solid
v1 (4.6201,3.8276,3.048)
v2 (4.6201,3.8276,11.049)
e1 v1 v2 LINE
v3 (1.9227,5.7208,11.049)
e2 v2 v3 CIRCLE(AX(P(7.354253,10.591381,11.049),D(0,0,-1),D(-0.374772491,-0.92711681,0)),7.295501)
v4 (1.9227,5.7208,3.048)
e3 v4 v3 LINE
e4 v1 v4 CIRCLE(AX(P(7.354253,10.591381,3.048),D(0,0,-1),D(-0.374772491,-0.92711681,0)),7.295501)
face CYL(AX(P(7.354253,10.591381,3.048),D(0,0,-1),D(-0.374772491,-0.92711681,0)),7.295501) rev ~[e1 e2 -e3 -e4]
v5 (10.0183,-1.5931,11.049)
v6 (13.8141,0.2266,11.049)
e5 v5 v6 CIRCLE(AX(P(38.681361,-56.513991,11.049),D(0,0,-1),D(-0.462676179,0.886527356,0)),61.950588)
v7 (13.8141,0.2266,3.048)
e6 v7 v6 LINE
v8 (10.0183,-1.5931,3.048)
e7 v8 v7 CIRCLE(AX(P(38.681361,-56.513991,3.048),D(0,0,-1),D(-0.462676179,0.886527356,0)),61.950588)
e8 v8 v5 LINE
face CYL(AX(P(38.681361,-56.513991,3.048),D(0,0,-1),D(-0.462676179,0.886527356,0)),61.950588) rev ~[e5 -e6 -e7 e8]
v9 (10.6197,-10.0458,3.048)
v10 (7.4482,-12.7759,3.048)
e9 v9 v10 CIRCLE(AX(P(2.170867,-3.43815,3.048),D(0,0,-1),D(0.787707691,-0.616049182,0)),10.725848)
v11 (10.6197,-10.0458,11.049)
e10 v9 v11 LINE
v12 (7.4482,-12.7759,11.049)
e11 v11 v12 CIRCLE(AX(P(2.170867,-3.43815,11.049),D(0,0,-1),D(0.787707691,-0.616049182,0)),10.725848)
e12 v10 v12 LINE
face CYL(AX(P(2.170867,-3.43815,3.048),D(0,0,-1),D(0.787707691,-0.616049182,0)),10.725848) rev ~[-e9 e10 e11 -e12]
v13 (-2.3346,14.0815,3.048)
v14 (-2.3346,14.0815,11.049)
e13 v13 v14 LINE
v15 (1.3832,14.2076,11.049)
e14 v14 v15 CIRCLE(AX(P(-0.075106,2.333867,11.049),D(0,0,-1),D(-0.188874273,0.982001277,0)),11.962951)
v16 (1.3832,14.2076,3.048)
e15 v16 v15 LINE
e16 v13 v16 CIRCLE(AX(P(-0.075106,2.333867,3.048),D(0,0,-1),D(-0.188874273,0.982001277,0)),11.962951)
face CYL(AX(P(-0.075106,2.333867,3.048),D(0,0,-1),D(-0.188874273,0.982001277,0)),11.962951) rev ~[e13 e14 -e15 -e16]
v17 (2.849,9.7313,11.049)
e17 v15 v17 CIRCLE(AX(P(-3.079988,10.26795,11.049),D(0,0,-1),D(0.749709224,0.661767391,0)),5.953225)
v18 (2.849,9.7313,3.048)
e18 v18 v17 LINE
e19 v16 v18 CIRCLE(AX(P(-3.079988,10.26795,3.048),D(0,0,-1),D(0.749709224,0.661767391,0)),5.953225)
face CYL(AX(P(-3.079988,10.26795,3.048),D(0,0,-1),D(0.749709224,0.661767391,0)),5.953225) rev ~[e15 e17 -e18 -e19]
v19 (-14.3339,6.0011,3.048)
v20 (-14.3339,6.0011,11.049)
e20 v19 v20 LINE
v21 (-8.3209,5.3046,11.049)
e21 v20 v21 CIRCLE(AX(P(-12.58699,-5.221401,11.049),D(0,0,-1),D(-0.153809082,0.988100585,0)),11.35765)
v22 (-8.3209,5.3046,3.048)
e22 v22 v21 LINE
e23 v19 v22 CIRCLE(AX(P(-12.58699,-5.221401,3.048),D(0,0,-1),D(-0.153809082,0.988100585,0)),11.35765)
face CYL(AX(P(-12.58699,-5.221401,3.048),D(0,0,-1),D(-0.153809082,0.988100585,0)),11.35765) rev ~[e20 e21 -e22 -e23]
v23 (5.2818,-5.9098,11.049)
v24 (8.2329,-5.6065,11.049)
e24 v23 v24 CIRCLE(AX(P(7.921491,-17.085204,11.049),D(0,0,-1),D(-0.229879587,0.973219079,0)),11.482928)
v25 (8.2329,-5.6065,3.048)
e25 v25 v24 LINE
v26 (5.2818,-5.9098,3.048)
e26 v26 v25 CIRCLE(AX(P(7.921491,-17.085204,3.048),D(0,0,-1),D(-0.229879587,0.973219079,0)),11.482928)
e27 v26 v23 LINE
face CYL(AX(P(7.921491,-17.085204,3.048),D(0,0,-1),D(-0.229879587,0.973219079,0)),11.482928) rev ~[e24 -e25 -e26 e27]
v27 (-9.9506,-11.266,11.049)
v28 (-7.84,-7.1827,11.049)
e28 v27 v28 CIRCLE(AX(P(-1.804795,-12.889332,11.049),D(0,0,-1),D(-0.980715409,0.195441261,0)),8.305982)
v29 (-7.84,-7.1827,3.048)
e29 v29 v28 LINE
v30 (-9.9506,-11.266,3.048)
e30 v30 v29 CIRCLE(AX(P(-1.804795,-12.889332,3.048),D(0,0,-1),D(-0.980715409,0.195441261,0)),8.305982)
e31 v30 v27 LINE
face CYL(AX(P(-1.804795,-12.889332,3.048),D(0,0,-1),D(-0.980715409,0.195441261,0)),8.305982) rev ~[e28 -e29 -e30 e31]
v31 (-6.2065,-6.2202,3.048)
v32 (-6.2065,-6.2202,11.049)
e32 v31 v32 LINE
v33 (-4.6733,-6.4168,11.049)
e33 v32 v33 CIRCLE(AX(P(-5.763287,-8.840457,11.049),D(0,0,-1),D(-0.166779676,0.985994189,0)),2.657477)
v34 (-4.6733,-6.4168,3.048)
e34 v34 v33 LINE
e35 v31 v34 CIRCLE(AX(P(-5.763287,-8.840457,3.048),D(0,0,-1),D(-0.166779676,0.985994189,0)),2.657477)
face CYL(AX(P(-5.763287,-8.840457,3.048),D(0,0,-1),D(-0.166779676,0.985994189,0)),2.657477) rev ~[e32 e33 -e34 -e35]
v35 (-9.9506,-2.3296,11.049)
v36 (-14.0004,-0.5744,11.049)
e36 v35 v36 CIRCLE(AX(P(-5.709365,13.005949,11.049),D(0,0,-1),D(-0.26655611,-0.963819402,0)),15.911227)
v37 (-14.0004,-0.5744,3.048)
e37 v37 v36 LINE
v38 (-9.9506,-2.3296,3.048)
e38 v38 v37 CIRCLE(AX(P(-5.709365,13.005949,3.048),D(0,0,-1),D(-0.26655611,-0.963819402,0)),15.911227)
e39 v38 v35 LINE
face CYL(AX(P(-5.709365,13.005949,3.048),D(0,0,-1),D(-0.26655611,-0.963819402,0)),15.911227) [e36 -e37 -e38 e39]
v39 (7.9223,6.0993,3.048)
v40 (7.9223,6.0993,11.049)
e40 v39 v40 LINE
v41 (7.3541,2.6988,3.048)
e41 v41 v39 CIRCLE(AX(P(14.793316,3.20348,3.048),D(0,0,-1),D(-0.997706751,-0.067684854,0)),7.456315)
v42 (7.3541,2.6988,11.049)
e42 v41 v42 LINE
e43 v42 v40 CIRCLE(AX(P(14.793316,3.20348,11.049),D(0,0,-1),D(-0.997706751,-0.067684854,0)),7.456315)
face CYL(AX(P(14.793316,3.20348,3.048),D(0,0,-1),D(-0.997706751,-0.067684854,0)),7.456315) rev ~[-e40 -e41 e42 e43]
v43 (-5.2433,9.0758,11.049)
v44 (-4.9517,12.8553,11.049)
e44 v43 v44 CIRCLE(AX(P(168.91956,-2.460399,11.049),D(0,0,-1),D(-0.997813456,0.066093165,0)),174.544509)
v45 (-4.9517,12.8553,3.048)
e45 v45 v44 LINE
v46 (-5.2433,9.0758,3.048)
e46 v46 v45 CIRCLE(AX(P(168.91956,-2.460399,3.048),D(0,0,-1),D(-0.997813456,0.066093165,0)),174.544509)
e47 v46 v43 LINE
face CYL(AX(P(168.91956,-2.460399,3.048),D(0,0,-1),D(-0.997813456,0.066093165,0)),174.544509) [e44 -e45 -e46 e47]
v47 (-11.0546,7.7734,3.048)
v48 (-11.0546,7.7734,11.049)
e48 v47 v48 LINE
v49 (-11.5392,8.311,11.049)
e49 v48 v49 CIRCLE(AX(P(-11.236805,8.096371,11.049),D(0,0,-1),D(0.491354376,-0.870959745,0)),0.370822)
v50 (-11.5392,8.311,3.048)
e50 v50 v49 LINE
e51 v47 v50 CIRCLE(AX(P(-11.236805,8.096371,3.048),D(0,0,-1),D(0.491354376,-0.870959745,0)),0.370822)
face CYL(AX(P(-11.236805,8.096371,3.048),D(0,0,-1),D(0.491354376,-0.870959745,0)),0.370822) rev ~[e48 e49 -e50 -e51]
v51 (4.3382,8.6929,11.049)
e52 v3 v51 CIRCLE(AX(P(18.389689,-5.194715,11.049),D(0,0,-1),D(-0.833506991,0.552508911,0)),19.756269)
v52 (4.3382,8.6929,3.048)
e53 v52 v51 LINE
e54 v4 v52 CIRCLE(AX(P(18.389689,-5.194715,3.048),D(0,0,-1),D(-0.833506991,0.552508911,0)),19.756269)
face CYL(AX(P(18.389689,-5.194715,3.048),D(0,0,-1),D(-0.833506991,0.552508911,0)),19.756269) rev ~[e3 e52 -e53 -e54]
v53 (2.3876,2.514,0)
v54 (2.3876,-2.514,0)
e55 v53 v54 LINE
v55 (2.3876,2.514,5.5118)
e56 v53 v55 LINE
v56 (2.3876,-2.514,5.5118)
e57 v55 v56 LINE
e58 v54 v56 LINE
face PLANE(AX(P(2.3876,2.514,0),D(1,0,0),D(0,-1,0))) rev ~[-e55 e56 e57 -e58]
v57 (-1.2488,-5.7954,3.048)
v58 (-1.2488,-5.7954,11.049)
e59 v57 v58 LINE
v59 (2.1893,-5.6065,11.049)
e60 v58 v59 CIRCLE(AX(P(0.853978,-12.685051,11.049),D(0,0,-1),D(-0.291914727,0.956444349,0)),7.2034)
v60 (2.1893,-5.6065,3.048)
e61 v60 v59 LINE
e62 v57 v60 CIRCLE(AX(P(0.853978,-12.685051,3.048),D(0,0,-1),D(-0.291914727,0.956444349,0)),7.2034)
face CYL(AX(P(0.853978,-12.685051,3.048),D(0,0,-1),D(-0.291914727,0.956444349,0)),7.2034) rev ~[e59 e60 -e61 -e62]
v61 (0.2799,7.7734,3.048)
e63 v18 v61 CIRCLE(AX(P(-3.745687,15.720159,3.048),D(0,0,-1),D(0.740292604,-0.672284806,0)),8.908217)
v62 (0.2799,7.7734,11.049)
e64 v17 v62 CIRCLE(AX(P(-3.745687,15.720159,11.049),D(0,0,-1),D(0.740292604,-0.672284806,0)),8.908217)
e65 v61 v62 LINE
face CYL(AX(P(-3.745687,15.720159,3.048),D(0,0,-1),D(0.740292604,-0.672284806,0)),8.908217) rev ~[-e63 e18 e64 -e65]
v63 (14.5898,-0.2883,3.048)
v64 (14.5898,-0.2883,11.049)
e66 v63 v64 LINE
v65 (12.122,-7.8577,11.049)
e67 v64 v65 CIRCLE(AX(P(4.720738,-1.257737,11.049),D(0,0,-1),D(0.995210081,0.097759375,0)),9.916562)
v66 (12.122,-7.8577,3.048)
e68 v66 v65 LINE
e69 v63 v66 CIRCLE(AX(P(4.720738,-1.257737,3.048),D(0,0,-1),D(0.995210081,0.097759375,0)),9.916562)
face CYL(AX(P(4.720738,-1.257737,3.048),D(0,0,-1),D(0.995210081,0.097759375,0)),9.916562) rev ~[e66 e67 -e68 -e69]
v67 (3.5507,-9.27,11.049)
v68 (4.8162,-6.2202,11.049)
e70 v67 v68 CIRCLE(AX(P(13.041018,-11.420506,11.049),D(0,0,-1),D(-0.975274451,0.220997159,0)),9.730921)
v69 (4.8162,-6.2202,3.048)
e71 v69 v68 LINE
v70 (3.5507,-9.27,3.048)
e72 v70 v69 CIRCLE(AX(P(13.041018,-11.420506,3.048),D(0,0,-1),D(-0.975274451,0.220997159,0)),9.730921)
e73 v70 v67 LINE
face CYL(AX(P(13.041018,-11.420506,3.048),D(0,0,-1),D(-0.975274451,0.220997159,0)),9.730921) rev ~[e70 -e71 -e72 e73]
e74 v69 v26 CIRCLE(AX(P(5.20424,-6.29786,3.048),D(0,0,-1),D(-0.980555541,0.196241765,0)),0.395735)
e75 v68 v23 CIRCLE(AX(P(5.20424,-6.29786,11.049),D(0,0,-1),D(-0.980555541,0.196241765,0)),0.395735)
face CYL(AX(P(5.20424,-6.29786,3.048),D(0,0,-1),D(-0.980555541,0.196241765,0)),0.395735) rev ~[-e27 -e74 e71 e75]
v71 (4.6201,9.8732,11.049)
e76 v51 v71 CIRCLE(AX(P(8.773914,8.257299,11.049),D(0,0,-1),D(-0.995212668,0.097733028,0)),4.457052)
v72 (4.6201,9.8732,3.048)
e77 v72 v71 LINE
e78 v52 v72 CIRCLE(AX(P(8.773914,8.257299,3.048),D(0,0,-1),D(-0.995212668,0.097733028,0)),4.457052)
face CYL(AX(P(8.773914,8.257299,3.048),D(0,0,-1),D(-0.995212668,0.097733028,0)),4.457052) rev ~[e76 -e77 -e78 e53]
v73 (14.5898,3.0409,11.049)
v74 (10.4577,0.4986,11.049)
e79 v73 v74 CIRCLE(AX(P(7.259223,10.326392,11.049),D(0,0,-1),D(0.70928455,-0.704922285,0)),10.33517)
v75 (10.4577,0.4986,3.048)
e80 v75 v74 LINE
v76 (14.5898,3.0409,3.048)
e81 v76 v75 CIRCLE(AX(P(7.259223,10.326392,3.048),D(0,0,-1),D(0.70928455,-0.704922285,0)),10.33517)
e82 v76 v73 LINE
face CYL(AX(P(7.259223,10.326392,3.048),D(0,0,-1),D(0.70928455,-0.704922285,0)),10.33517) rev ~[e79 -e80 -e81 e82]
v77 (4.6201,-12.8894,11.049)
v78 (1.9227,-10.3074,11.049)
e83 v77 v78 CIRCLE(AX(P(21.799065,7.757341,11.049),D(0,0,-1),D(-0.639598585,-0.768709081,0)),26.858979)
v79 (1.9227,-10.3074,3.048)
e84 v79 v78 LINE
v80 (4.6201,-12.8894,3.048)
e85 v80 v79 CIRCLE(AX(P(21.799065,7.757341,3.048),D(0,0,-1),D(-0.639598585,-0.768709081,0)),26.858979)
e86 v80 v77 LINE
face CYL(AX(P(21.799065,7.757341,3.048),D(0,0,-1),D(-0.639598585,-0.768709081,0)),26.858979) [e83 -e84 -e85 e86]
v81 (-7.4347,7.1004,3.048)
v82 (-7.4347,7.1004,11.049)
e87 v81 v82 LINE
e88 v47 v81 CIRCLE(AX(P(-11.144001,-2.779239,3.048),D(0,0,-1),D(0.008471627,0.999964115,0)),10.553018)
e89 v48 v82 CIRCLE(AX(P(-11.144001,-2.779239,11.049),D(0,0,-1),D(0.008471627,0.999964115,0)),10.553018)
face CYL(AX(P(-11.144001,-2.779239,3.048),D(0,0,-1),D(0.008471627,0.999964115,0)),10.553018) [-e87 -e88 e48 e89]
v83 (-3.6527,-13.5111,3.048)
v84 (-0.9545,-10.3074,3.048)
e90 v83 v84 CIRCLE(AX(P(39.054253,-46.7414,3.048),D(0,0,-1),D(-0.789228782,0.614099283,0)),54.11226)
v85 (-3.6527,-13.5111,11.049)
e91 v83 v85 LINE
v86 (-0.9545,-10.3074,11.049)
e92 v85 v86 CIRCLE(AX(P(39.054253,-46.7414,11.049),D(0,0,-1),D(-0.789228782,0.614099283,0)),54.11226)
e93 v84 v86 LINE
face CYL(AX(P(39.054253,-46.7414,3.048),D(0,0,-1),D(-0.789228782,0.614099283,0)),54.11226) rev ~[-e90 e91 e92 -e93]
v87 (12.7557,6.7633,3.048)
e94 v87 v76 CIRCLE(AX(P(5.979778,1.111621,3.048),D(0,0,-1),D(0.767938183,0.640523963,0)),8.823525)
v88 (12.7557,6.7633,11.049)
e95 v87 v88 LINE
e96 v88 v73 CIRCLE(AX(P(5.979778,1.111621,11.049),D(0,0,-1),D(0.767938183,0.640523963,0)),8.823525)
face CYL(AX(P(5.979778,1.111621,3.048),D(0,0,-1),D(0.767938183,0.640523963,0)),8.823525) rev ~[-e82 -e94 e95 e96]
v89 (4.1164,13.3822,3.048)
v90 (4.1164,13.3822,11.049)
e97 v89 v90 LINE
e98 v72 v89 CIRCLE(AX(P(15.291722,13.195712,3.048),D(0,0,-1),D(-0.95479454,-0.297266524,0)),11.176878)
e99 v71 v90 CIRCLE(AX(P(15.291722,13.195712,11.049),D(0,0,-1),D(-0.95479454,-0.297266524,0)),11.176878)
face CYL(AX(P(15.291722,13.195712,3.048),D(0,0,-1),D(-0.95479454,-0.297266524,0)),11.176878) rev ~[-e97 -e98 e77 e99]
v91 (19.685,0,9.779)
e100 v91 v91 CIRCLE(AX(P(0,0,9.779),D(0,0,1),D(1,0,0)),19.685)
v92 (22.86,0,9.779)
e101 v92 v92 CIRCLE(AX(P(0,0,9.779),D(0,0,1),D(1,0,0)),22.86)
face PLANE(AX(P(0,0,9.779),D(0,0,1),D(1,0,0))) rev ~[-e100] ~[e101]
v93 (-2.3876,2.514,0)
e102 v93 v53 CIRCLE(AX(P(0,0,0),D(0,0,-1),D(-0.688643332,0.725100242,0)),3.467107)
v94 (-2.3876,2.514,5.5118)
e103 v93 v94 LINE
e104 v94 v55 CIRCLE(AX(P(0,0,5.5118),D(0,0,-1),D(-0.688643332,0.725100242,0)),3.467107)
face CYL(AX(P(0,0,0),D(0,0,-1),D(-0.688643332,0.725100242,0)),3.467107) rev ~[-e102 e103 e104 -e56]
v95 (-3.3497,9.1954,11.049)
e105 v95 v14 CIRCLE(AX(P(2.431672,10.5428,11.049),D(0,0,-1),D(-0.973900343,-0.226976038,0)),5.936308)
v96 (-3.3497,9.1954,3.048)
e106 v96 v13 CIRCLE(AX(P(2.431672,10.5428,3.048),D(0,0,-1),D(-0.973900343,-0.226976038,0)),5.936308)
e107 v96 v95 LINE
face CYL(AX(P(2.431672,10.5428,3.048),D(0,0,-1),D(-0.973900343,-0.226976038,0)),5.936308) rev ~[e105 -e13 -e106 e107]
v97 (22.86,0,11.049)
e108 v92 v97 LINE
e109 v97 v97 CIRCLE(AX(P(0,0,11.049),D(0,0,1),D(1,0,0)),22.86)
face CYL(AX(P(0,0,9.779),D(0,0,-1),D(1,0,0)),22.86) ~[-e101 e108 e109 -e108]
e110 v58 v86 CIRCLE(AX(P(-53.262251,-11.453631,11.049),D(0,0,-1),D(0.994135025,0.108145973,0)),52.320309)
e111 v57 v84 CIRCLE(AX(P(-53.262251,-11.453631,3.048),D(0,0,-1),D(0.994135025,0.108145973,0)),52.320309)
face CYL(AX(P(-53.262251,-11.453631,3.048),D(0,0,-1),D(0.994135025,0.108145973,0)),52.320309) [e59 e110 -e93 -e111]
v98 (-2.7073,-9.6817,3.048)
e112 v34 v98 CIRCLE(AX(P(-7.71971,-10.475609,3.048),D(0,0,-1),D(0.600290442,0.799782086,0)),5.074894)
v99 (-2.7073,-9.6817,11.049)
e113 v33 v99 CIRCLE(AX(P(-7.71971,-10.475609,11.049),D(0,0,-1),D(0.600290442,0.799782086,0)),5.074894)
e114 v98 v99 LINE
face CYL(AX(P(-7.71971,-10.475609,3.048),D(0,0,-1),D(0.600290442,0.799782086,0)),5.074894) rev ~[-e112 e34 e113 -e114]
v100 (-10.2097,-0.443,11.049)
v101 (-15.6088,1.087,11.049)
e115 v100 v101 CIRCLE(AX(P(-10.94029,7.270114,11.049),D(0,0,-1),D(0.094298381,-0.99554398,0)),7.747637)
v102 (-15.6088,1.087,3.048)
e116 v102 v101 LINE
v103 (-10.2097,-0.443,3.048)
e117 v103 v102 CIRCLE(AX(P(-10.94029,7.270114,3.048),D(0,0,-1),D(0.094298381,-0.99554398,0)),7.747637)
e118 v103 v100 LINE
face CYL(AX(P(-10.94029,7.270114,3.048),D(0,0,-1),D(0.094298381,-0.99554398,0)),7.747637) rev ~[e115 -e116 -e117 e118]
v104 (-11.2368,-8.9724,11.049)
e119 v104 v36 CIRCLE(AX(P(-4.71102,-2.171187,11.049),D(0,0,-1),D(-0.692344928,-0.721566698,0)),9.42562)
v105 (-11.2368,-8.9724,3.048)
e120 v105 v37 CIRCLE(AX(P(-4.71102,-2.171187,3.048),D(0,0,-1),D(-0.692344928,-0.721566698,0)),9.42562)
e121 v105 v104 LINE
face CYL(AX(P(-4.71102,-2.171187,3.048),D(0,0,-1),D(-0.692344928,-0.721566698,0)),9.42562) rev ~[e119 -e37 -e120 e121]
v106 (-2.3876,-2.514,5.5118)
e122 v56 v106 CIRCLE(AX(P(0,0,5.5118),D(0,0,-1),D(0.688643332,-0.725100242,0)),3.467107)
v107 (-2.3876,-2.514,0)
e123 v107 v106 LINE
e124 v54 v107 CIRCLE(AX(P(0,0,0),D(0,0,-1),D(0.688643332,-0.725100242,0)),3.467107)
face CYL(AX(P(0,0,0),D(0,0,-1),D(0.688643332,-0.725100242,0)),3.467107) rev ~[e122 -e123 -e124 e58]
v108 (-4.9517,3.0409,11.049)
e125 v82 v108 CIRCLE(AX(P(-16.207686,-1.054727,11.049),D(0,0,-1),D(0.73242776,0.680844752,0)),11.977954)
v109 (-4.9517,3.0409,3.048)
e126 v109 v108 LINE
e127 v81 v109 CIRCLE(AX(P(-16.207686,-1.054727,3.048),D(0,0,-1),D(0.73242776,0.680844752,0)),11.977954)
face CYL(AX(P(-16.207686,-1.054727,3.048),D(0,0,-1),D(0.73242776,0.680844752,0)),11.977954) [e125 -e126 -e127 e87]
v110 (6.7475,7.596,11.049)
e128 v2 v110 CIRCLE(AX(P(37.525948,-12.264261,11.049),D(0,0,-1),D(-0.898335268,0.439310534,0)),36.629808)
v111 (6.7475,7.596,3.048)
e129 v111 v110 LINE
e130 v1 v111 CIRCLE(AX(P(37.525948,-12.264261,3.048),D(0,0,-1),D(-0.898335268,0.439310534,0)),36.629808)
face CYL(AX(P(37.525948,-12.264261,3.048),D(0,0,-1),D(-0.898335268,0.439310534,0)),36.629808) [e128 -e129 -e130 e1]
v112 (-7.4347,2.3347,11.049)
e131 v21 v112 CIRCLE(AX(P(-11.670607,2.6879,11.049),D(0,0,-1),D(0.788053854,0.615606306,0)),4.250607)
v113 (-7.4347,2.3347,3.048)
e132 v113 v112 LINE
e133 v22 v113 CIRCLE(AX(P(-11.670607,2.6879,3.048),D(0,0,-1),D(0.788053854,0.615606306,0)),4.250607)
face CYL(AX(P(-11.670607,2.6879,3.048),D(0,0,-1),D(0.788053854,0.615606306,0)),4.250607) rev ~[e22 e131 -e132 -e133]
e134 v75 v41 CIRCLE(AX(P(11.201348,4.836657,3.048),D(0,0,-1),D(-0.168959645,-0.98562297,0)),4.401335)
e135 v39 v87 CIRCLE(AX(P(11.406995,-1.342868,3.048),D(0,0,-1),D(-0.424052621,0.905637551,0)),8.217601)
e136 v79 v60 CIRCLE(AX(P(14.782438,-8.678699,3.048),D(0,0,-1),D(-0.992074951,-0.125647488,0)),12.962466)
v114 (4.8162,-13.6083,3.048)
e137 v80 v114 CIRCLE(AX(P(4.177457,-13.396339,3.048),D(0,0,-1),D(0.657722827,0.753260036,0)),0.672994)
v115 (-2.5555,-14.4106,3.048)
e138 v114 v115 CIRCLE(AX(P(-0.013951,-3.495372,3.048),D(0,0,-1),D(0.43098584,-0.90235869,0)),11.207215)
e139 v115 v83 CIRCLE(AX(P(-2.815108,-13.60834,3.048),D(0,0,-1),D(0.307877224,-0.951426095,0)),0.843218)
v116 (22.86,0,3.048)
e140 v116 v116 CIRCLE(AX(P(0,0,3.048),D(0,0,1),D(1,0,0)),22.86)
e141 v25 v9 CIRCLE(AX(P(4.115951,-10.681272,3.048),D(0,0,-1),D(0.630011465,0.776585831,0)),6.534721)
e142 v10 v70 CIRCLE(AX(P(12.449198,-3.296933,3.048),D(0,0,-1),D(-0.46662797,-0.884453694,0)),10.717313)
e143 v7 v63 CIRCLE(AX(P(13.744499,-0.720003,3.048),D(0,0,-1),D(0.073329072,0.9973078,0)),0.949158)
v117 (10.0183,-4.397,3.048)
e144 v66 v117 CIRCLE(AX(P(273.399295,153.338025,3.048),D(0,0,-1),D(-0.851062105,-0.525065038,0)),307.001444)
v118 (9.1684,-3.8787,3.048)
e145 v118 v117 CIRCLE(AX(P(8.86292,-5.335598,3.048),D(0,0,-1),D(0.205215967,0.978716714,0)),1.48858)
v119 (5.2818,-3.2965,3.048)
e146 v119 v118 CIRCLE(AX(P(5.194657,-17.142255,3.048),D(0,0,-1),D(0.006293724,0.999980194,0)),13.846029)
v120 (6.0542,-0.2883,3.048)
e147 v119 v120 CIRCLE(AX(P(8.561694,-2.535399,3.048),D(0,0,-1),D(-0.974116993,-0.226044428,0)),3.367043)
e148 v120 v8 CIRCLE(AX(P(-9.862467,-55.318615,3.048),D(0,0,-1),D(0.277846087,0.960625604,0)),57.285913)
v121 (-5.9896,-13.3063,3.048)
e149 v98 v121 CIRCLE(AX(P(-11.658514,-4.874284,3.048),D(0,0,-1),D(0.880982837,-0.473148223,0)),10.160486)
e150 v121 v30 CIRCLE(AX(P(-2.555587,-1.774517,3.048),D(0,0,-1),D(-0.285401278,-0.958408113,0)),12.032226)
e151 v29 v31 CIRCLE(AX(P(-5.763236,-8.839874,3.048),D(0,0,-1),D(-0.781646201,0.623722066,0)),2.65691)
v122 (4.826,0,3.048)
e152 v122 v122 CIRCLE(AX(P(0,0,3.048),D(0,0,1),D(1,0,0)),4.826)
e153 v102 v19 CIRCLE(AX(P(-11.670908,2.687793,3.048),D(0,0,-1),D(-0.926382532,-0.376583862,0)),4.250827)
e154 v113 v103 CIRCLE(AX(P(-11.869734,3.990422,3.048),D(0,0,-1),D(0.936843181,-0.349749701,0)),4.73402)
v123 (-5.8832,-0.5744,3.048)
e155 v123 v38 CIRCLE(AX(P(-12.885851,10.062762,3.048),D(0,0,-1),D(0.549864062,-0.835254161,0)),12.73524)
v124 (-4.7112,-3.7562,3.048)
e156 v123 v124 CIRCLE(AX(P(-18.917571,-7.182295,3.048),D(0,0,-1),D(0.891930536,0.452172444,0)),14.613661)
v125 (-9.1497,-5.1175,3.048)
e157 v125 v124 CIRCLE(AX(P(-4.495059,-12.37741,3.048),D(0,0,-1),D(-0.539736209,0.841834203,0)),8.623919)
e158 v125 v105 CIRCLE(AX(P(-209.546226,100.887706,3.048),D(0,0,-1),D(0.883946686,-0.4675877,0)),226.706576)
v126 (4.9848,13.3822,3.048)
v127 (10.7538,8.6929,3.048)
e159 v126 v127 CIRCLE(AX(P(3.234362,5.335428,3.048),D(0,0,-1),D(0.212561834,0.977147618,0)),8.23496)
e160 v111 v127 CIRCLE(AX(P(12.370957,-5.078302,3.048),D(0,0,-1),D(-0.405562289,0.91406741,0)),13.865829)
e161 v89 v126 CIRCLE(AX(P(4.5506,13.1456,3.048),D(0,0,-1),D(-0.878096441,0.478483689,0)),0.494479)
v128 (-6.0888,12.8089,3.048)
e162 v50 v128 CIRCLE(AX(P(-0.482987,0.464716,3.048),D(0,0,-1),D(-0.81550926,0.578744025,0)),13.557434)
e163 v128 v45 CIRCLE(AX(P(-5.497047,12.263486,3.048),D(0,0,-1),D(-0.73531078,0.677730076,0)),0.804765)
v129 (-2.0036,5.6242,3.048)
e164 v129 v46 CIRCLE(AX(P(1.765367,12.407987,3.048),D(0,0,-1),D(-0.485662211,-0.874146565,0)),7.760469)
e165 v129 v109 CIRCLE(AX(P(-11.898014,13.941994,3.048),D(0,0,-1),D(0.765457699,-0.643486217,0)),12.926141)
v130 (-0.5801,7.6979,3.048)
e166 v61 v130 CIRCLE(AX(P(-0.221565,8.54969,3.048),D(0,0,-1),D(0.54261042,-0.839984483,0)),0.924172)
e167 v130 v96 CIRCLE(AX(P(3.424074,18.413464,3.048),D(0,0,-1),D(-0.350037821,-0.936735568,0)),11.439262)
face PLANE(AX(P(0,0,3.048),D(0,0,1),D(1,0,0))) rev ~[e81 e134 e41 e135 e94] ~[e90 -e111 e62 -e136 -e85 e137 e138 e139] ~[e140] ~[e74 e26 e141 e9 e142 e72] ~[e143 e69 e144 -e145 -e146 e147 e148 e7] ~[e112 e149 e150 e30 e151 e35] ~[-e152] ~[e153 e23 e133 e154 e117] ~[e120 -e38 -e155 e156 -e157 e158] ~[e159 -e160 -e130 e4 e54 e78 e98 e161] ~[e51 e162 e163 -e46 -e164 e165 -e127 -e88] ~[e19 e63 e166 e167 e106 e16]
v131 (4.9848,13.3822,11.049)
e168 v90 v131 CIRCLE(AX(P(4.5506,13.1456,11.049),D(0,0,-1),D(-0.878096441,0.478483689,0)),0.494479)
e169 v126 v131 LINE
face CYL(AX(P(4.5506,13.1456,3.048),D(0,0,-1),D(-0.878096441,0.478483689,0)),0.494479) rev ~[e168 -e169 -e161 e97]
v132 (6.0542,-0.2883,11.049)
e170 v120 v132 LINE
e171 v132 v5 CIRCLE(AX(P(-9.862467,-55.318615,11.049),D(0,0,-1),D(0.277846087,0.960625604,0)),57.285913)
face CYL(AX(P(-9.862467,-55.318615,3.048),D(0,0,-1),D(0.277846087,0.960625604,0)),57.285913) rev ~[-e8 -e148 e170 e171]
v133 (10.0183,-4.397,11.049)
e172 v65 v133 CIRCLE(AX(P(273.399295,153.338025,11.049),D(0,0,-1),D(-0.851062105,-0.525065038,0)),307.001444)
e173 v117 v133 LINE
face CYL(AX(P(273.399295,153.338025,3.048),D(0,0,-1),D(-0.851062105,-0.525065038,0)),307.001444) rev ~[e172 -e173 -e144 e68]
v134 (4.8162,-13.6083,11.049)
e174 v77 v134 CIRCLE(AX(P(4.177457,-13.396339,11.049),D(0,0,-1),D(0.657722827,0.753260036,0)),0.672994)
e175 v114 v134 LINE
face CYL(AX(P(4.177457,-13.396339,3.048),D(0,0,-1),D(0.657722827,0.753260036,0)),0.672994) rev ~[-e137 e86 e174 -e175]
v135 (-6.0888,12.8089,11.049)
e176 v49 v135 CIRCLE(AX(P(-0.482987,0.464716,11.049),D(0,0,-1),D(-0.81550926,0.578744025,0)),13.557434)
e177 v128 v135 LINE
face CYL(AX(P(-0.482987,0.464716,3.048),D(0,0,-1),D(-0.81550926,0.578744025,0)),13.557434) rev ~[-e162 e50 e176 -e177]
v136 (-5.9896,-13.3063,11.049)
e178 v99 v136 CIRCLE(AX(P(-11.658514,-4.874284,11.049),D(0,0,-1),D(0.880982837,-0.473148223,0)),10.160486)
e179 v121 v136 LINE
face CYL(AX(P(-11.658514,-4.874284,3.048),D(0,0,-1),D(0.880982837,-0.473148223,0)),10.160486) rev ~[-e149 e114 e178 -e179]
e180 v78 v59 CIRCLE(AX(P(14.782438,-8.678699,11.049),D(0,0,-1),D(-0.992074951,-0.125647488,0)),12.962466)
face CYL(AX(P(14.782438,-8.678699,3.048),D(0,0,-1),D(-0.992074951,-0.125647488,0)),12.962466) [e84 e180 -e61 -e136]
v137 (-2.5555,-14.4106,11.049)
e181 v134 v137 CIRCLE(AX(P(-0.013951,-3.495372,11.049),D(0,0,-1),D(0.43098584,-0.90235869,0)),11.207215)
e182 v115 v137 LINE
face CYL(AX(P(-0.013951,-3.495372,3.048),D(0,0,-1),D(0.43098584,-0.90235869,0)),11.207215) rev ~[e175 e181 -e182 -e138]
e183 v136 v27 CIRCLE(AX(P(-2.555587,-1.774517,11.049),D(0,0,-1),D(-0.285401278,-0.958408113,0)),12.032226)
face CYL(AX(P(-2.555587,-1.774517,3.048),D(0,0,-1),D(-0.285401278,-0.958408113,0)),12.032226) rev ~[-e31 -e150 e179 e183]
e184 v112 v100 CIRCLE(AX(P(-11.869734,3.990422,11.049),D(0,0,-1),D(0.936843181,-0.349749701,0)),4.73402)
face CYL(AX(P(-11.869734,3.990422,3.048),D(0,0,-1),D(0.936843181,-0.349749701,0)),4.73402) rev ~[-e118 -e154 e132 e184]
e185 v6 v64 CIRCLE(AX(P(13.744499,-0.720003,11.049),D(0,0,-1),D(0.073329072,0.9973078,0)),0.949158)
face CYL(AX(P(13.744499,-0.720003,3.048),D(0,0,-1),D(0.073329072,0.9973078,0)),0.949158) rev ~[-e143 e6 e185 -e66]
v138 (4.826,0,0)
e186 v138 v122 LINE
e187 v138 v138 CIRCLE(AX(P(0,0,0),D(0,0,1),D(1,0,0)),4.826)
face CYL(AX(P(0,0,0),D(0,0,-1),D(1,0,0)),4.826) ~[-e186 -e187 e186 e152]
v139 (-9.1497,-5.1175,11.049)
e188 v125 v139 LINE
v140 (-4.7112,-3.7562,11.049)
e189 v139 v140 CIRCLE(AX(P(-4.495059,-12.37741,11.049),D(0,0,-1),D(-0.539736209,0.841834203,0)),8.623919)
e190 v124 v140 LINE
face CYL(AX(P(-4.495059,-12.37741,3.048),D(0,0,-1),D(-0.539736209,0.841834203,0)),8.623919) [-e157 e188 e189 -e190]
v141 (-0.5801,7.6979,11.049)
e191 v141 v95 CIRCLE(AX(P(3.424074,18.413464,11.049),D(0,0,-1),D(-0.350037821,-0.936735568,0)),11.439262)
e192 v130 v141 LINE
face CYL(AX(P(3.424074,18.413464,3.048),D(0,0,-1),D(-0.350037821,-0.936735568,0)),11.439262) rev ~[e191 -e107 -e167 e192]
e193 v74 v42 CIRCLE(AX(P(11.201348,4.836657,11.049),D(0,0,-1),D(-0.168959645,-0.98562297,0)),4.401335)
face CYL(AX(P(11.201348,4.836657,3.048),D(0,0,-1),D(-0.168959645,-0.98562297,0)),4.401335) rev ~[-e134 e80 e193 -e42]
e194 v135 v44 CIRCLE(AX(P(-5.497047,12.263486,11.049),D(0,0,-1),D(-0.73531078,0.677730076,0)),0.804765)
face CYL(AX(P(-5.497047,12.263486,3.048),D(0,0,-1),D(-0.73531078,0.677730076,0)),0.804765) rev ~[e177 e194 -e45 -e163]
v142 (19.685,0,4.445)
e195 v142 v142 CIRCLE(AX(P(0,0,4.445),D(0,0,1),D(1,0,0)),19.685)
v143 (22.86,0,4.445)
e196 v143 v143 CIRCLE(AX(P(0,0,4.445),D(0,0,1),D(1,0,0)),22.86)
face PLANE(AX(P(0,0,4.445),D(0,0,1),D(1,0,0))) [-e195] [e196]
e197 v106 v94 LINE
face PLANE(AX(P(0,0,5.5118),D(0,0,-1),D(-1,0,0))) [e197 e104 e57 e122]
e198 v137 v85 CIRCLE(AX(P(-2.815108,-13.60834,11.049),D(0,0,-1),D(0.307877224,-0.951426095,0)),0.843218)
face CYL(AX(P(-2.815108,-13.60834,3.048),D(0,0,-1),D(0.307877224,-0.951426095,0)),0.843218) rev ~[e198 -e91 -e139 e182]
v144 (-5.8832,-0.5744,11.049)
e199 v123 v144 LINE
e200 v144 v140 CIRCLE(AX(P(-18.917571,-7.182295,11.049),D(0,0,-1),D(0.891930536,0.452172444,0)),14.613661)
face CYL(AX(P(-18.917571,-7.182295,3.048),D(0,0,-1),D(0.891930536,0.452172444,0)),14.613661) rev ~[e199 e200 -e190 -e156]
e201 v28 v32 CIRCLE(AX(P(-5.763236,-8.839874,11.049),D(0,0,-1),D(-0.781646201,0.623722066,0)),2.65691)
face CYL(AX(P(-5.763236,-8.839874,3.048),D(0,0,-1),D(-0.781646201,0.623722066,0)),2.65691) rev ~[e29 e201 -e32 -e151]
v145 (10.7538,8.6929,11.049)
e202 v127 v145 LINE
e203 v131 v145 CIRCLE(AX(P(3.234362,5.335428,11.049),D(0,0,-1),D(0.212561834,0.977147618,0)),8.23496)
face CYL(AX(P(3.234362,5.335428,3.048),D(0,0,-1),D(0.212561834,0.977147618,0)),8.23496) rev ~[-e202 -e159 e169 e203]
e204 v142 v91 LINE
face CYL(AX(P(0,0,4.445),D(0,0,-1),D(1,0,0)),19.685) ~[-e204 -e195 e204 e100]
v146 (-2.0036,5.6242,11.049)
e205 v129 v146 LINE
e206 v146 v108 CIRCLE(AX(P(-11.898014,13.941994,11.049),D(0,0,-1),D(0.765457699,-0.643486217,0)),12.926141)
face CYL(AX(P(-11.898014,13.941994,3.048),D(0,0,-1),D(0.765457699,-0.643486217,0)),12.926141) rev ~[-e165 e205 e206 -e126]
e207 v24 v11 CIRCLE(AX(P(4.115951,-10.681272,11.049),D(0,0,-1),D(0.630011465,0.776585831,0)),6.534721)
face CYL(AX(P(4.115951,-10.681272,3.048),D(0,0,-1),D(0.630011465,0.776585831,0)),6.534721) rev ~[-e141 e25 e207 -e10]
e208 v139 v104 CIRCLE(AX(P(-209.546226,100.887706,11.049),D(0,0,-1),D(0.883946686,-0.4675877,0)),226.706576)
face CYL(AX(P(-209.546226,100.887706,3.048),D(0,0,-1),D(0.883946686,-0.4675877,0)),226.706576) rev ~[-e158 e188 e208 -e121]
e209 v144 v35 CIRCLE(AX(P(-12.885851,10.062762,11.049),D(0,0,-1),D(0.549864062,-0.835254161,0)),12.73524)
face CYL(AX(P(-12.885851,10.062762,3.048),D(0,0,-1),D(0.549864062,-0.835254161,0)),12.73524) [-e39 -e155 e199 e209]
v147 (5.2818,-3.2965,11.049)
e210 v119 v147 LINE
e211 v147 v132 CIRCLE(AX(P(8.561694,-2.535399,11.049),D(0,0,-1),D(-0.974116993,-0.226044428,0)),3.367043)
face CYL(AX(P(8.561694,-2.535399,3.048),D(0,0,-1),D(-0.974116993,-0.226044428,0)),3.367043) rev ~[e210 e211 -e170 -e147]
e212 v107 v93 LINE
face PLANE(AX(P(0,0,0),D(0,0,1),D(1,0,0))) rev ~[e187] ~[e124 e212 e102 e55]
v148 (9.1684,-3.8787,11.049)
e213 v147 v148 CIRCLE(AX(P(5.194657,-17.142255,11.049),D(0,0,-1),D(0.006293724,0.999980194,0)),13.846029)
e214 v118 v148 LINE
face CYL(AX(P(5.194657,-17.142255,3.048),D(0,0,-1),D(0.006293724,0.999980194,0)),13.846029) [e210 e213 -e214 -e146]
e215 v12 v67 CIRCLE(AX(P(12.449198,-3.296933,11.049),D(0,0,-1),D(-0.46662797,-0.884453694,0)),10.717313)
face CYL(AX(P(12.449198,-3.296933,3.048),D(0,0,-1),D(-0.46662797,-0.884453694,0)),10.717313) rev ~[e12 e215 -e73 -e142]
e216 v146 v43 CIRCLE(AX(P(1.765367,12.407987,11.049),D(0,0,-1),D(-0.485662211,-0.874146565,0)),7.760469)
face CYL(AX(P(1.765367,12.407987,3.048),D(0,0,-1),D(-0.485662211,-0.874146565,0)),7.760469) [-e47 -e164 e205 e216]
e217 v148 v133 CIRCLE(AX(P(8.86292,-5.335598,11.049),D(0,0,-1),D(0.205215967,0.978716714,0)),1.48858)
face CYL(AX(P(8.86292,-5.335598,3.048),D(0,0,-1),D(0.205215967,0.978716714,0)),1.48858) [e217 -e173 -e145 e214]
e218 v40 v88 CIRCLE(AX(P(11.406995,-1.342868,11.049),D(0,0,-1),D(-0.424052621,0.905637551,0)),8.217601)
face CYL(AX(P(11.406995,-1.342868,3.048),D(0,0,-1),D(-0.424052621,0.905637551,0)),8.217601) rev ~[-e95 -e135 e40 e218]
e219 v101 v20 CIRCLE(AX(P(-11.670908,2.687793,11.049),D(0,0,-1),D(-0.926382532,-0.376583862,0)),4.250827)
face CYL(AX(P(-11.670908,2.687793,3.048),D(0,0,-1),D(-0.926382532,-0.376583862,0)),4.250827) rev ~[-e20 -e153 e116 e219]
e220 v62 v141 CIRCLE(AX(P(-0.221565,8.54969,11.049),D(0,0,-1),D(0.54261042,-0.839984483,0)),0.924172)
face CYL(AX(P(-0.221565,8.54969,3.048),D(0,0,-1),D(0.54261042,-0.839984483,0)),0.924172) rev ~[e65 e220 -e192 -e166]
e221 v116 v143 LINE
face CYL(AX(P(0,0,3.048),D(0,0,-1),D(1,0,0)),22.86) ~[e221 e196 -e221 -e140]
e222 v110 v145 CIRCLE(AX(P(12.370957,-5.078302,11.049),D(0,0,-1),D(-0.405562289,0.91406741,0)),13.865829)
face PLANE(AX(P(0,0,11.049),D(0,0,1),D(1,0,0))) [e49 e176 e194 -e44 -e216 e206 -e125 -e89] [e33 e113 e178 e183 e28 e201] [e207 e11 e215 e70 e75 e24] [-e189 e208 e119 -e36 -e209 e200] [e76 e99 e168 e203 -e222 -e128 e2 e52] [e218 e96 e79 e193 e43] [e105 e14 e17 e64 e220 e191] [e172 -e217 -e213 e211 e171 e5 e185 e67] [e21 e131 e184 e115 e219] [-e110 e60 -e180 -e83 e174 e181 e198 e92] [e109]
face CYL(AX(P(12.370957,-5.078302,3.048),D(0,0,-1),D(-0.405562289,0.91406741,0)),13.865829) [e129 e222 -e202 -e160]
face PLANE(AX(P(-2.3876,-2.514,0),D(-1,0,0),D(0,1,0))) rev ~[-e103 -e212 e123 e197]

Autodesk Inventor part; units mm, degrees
ref_plane "YZ Plane" through (0, 0, 0) normal (1, 0, 0) x (0, 1, 0)
ref_plane "XZ Plane" through (0, 0, 0) normal (0, 1, 0) x (-1, 0, 0)
ref_plane "XY Plane" through (0, 0, 0) normal (0, 0, 1) x (1, 0, 0)
sketch "Sketch1" plane through (0, 0, 0) normal (0, 0, 1) x (1, 0, 0)
  circle A0 centre (0, 0) radius 4.826
  dimension "d0" = 9.652
extrude "Extrusion1" add sketch "Sketch1" along normal blind 3.048
sketch "Sketch2" plane through (0, 0, 3.048) normal (0, 0, 1) x (1, 0, 0)
  circle A0 centre (0, 0) radius 22.86
  dimension "d3" = 45.72
extrude "Extrusion2" add sketch "Sketch2" along normal blind 1.397
sketch "Sketch4" plane through (0, 0, 4.445) normal (0, 0, 1) x (1, 0, 0)
  circle A0 centre (0, 0) radius 19.685
  dimension "d6" = 39.37
extrude "Extrusion3" add sketch "Sketch4" along normal blind 5.334
sketch "Sketch6" plane through (0, 0, 9.779) normal (0, 0, 1) x (1, 0, 0)
  circle A0 centre (0, 0) radius 4.826 projected
  circle A1 centre (0, 0) radius 22.86
extrude "Extrusion4" add sketch "Sketch6" along normal blind 1.27 contours A0 | A1
sketch "Sketch9" plane through (0, 0, 0) normal (0, 0, -1) x (-1, 0, 0)
  line L0 (2.3876, -2.514) -> (2.3876, 2.514)
  line L1 (-2.3876, 2.514) -> (-2.3876, -2.514)
  line L2 (-1.2735, -3.2247) -> (1.2735, 3.2247) construction
  line L3 (1.2735, -3.2247) -> (-1.2735, 3.2247) construction
  arc A0 (-2.3876, -2.514) -> (2.3876, -2.514) centre (0, 0) ccw
  arc A1 (2.3876, 2.514) -> (-2.3876, 2.514) centre (0, 0) ccw
extrude "Extrusion6" cut sketch "Sketch9" against normal blind 5.5118
sketch "Sketch10" plane through (0, 0, 3.048) normal (0, 0, -1) x (-1, 0, 0)
  arc A0 (6.0888, 12.8089) -> (4.9517, 12.8553) centre (5.4971, 12.2636) ccw
  arc A1 (11.5392, 8.311) -> (6.0888, 12.8089) centre (0.4834, 0.4651) ccw
  arc A2 (11.0546, 7.7734) -> (11.5392, 8.311) centre (11.2368, 8.0964) ccw
  arc A3 (11.0546, 7.7734) -> (7.4347, 7.1004) centre (11.1442, -2.7813) ccw
  circle A4 centre (0, 0) radius 22.86 projected
  arc A5 (5.2433, 9.0758) -> (4.9517, 12.8553) centre (-169.1009, -2.4734) ccw
  arc A6 (2.0036, 5.6242) -> (5.2433, 9.0758) centre (-1.766, 12.4088) ccw
  arc A7 (2.0036, 5.6242) -> (4.9517, 3.0409) centre (11.897, 13.941) ccw
  arc A8 (7.4347, 7.1004) -> (4.9517, 3.0409) centre (16.2062, -1.0536) ccw
  arc A9 (11.2368, -8.9724) -> (14.0004, -0.5744) centre (4.7112, -2.1713) ccw
  arc A10 (9.1497, -5.1175) -> (11.2368, -8.9724) centre (208.9836, 100.5866) ccw
  arc A11 (9.1497, -5.1175) -> (4.7112, -3.7562) centre (4.4946, -12.3784) ccw
  arc A12 (5.8832, -0.5744) -> (4.7112, -3.7562) centre (18.9185, -7.1827) ccw
  arc A13 (5.8832, -0.5744) -> (9.9506, -2.3296) centre (12.8849, 10.061) ccw
  arc A14 (9.9506, -2.3296) -> (14.0004, -0.5744) centre (5.7085, 13.0084) ccw
  arc A15 (9.9506, -11.266) -> (7.84, -7.1827) centre (1.8046, -12.8894) ccw
  arc A16 (7.84, -7.1827) -> (6.2065, -6.2202) centre (5.7633, -8.8398) ccw
  arc A17 (6.2065, -6.2202) -> (4.6733, -6.4168) centre (5.7633, -8.8398) ccw
  arc A18 (4.6733, -6.4168) -> (2.7073, -9.6817) centre (7.7197, -10.4756) ccw
  arc A19 (2.7073, -9.6817) -> (5.9896, -13.3063) centre (11.6592, -4.8738) ccw
  arc A20 (5.9896, -13.3063) -> (9.9506, -11.266) centre (2.5555, -1.7743) ccw
  arc A21 (1.2488, -5.7954) -> (-2.1893, -5.6065) centre (-0.8542, -12.6863) ccw
  arc A22 (1.2488, -5.7954) -> (0.9545, -10.3074) centre (53.2412, -11.4518) ccw
  arc A23 (3.6527, -13.5111) -> (0.9545, -10.3074) centre (-39.0545, -46.7416) ccw
  arc A24 (2.5555, -14.4106) -> (3.6527, -13.5111) centre (2.8151, -13.6083) ccw
  arc A25 (-4.8162, -13.6083) -> (2.5555, -14.4106) centre (0.014, -3.4952) ccw
  arc A26 (-4.6201, -12.8894) -> (-4.8162, -13.6083) centre (-4.1772, -13.3965) ccw
  arc A27 (-4.6201, -12.8894) -> (-1.9227, -10.3074) centre (-21.7976, 7.7557) ccw
  arc A28 (-1.9227, -10.3074) -> (-2.1893, -5.6065) centre (-14.7824, -8.6787) ccw
  arc A29 (-7.4482, -12.7759) -> (-3.5507, -9.27) centre (-12.4495, -3.2965) ccw
  arc A30 (-3.5507, -9.27) -> (-4.8162, -6.2202) centre (-13.041, -11.4205) ccw
  arc A31 (-4.8162, -6.2202) -> (-5.2818, -5.9098) centre (-5.2043, -6.2979) ccw
  arc A32 (-5.2818, -5.9098) -> (-8.2329, -5.6065) centre (-7.9223, -17.09) ccw
  arc A33 (-8.2329, -5.6065) -> (-10.6197, -10.0458) centre (-4.1164, -10.6809) ccw
  arc A34 (-10.6197, -10.0458) -> (-7.4482, -12.7759) centre (-2.1705, -3.4378) ccw
  arc A35 (2.3346, 14.0815) -> (-1.3832, 14.2076) centre (0.0752, 2.3347) ccw
  arc A36 (3.3497, 9.1954) -> (2.3346, 14.0815) centre (-2.4317, 10.5428) ccw
  arc A37 (0.5801, 7.6979) -> (3.3497, 9.1954) centre (-3.4245, 18.4144) ccw
  arc A38 (-2.849, 9.7313) -> (-0.2799, 7.7734) centre (3.746, 15.7205) ccw
  arc A39 (-1.3832, 14.2076) -> (-2.849, 9.7313) centre (3.0799, 10.268) ccw
  arc A40 (-4.6201, 3.8276) -> (-1.9227, 5.7208) centre (-7.3541, 10.5911) ccw
  arc A41 (-4.6201, 3.8276) -> (-6.7475, 7.596) centre (-37.5112, -12.2565) ccw
  arc A42 (-1.9227, 5.7208) -> (-4.3382, 8.6929) centre (-18.3879, -5.1934) ccw
  arc A43 (-4.3382, 8.6929) -> (-4.6201, 9.8732) centre (-8.7751, 8.2571) ccw
  arc A44 (-4.6201, 9.8732) -> (-4.1164, 13.3822) centre (-15.2899, 13.1953) ccw
  arc A45 (-4.1164, 13.3822) -> (-4.9848, 13.3822) centre (-4.5506, 13.1456) ccw
  arc A46 (-4.9848, 13.3822) -> (-10.7538, 8.6929) centre (-3.2343, 5.3353) ccw
  arc A47 (-6.7475, 7.596) -> (-10.7538, 8.6929) centre (-12.3706, -5.0773) ccw
  arc A48 (-7.9223, 6.0993) -> (-12.7557, 6.7633) centre (-11.4073, -1.3439) ccw
  arc A49 (-7.3541, 2.6988) -> (-7.9223, 6.0993) centre (-14.7929, 3.2035) ccw
  arc A50 (-10.4577, 0.4986) -> (-7.3541, 2.6988) centre (-11.2012, 4.8363) ccw
  arc A51 (-14.5898, 3.0409) -> (-10.4577, 0.4986) centre (-7.2589, 10.3268) ccw
  arc A52 (-12.7557, 6.7633) -> (-14.5898, 3.0409) centre (-5.9799, 1.1117) ccw
  arc A53 (-5.2818, -3.2965) -> (-6.0542, -0.2883) centre (-8.5618, -2.5354) ccw
  arc A54 (-6.0542, -0.2883) -> (-10.0183, -1.5931) centre (9.876, -55.3624) ccw
  arc A55 (-5.2818, -3.2965) -> (-9.1684, -3.8787) centre (-5.1947, -17.1417) ccw
  arc A56 (-9.1684, -3.8787) -> (-10.0183, -4.397) centre (-8.8628, -5.3359) ccw
  arc A57 (-10.0183, -1.5931) -> (-13.8141, 0.2266) centre (-38.6644, -56.4801) ccw
  arc A58 (-13.8141, 0.2266) -> (-14.5898, -0.2883) centre (-13.7445, -0.72) ccw
  arc A59 (-14.5898, -0.2883) -> (-12.122, -7.8577) centre (-4.7204, -1.2577) ccw
  arc A60 (-12.122, -7.8577) -> (-10.0183, -4.397) centre (-273.7033, 153.5242) ccw
  arc A61 (-0.2799, 7.7734) -> (0.5801, 7.6979) centre (0.2215, 8.5495) ccw
  arc A62 (8.3209, 5.3046) -> (7.4347, 2.3347) centre (11.6708, 2.6878) ccw
  arc A63 (7.4347, 2.3347) -> (10.2097, -0.443) centre (11.8697, 3.9904) ccw
  arc A64 (14.3339, 6.0011) -> (8.3209, 5.3046) centre (12.587, -5.2209) ccw
  arc A65 (15.6088, 1.087) -> (14.3339, 6.0011) centre (11.6708, 2.6878) ccw
  arc A66 (10.2097, -0.443) -> (15.6088, 1.087) centre (10.9403, 7.27) ccw
extrude "Extrusion7" cut sketch "Sketch10" against normal through all contours A1 A2 A3 A8 A7 A6 A5 A0 | A10 A11 A12 A13 A14 A9 | A20 A19 A18 A17 A16 A15 | A22 A23 A24 A25 A26 A27 A28 A21 | A34 A33 A32 A31 A30 A29 | A36 A37 A61 A38 A39 A35 | A41 A47 A46 A45 A44 A43 A42 A40 | A49 A50 A51 A52 A48 | A55 A56 A60 A59 A58 A57 A54 A53 | A64 A65 A66 A63 A62
properties part number "Desgin on wheel"
